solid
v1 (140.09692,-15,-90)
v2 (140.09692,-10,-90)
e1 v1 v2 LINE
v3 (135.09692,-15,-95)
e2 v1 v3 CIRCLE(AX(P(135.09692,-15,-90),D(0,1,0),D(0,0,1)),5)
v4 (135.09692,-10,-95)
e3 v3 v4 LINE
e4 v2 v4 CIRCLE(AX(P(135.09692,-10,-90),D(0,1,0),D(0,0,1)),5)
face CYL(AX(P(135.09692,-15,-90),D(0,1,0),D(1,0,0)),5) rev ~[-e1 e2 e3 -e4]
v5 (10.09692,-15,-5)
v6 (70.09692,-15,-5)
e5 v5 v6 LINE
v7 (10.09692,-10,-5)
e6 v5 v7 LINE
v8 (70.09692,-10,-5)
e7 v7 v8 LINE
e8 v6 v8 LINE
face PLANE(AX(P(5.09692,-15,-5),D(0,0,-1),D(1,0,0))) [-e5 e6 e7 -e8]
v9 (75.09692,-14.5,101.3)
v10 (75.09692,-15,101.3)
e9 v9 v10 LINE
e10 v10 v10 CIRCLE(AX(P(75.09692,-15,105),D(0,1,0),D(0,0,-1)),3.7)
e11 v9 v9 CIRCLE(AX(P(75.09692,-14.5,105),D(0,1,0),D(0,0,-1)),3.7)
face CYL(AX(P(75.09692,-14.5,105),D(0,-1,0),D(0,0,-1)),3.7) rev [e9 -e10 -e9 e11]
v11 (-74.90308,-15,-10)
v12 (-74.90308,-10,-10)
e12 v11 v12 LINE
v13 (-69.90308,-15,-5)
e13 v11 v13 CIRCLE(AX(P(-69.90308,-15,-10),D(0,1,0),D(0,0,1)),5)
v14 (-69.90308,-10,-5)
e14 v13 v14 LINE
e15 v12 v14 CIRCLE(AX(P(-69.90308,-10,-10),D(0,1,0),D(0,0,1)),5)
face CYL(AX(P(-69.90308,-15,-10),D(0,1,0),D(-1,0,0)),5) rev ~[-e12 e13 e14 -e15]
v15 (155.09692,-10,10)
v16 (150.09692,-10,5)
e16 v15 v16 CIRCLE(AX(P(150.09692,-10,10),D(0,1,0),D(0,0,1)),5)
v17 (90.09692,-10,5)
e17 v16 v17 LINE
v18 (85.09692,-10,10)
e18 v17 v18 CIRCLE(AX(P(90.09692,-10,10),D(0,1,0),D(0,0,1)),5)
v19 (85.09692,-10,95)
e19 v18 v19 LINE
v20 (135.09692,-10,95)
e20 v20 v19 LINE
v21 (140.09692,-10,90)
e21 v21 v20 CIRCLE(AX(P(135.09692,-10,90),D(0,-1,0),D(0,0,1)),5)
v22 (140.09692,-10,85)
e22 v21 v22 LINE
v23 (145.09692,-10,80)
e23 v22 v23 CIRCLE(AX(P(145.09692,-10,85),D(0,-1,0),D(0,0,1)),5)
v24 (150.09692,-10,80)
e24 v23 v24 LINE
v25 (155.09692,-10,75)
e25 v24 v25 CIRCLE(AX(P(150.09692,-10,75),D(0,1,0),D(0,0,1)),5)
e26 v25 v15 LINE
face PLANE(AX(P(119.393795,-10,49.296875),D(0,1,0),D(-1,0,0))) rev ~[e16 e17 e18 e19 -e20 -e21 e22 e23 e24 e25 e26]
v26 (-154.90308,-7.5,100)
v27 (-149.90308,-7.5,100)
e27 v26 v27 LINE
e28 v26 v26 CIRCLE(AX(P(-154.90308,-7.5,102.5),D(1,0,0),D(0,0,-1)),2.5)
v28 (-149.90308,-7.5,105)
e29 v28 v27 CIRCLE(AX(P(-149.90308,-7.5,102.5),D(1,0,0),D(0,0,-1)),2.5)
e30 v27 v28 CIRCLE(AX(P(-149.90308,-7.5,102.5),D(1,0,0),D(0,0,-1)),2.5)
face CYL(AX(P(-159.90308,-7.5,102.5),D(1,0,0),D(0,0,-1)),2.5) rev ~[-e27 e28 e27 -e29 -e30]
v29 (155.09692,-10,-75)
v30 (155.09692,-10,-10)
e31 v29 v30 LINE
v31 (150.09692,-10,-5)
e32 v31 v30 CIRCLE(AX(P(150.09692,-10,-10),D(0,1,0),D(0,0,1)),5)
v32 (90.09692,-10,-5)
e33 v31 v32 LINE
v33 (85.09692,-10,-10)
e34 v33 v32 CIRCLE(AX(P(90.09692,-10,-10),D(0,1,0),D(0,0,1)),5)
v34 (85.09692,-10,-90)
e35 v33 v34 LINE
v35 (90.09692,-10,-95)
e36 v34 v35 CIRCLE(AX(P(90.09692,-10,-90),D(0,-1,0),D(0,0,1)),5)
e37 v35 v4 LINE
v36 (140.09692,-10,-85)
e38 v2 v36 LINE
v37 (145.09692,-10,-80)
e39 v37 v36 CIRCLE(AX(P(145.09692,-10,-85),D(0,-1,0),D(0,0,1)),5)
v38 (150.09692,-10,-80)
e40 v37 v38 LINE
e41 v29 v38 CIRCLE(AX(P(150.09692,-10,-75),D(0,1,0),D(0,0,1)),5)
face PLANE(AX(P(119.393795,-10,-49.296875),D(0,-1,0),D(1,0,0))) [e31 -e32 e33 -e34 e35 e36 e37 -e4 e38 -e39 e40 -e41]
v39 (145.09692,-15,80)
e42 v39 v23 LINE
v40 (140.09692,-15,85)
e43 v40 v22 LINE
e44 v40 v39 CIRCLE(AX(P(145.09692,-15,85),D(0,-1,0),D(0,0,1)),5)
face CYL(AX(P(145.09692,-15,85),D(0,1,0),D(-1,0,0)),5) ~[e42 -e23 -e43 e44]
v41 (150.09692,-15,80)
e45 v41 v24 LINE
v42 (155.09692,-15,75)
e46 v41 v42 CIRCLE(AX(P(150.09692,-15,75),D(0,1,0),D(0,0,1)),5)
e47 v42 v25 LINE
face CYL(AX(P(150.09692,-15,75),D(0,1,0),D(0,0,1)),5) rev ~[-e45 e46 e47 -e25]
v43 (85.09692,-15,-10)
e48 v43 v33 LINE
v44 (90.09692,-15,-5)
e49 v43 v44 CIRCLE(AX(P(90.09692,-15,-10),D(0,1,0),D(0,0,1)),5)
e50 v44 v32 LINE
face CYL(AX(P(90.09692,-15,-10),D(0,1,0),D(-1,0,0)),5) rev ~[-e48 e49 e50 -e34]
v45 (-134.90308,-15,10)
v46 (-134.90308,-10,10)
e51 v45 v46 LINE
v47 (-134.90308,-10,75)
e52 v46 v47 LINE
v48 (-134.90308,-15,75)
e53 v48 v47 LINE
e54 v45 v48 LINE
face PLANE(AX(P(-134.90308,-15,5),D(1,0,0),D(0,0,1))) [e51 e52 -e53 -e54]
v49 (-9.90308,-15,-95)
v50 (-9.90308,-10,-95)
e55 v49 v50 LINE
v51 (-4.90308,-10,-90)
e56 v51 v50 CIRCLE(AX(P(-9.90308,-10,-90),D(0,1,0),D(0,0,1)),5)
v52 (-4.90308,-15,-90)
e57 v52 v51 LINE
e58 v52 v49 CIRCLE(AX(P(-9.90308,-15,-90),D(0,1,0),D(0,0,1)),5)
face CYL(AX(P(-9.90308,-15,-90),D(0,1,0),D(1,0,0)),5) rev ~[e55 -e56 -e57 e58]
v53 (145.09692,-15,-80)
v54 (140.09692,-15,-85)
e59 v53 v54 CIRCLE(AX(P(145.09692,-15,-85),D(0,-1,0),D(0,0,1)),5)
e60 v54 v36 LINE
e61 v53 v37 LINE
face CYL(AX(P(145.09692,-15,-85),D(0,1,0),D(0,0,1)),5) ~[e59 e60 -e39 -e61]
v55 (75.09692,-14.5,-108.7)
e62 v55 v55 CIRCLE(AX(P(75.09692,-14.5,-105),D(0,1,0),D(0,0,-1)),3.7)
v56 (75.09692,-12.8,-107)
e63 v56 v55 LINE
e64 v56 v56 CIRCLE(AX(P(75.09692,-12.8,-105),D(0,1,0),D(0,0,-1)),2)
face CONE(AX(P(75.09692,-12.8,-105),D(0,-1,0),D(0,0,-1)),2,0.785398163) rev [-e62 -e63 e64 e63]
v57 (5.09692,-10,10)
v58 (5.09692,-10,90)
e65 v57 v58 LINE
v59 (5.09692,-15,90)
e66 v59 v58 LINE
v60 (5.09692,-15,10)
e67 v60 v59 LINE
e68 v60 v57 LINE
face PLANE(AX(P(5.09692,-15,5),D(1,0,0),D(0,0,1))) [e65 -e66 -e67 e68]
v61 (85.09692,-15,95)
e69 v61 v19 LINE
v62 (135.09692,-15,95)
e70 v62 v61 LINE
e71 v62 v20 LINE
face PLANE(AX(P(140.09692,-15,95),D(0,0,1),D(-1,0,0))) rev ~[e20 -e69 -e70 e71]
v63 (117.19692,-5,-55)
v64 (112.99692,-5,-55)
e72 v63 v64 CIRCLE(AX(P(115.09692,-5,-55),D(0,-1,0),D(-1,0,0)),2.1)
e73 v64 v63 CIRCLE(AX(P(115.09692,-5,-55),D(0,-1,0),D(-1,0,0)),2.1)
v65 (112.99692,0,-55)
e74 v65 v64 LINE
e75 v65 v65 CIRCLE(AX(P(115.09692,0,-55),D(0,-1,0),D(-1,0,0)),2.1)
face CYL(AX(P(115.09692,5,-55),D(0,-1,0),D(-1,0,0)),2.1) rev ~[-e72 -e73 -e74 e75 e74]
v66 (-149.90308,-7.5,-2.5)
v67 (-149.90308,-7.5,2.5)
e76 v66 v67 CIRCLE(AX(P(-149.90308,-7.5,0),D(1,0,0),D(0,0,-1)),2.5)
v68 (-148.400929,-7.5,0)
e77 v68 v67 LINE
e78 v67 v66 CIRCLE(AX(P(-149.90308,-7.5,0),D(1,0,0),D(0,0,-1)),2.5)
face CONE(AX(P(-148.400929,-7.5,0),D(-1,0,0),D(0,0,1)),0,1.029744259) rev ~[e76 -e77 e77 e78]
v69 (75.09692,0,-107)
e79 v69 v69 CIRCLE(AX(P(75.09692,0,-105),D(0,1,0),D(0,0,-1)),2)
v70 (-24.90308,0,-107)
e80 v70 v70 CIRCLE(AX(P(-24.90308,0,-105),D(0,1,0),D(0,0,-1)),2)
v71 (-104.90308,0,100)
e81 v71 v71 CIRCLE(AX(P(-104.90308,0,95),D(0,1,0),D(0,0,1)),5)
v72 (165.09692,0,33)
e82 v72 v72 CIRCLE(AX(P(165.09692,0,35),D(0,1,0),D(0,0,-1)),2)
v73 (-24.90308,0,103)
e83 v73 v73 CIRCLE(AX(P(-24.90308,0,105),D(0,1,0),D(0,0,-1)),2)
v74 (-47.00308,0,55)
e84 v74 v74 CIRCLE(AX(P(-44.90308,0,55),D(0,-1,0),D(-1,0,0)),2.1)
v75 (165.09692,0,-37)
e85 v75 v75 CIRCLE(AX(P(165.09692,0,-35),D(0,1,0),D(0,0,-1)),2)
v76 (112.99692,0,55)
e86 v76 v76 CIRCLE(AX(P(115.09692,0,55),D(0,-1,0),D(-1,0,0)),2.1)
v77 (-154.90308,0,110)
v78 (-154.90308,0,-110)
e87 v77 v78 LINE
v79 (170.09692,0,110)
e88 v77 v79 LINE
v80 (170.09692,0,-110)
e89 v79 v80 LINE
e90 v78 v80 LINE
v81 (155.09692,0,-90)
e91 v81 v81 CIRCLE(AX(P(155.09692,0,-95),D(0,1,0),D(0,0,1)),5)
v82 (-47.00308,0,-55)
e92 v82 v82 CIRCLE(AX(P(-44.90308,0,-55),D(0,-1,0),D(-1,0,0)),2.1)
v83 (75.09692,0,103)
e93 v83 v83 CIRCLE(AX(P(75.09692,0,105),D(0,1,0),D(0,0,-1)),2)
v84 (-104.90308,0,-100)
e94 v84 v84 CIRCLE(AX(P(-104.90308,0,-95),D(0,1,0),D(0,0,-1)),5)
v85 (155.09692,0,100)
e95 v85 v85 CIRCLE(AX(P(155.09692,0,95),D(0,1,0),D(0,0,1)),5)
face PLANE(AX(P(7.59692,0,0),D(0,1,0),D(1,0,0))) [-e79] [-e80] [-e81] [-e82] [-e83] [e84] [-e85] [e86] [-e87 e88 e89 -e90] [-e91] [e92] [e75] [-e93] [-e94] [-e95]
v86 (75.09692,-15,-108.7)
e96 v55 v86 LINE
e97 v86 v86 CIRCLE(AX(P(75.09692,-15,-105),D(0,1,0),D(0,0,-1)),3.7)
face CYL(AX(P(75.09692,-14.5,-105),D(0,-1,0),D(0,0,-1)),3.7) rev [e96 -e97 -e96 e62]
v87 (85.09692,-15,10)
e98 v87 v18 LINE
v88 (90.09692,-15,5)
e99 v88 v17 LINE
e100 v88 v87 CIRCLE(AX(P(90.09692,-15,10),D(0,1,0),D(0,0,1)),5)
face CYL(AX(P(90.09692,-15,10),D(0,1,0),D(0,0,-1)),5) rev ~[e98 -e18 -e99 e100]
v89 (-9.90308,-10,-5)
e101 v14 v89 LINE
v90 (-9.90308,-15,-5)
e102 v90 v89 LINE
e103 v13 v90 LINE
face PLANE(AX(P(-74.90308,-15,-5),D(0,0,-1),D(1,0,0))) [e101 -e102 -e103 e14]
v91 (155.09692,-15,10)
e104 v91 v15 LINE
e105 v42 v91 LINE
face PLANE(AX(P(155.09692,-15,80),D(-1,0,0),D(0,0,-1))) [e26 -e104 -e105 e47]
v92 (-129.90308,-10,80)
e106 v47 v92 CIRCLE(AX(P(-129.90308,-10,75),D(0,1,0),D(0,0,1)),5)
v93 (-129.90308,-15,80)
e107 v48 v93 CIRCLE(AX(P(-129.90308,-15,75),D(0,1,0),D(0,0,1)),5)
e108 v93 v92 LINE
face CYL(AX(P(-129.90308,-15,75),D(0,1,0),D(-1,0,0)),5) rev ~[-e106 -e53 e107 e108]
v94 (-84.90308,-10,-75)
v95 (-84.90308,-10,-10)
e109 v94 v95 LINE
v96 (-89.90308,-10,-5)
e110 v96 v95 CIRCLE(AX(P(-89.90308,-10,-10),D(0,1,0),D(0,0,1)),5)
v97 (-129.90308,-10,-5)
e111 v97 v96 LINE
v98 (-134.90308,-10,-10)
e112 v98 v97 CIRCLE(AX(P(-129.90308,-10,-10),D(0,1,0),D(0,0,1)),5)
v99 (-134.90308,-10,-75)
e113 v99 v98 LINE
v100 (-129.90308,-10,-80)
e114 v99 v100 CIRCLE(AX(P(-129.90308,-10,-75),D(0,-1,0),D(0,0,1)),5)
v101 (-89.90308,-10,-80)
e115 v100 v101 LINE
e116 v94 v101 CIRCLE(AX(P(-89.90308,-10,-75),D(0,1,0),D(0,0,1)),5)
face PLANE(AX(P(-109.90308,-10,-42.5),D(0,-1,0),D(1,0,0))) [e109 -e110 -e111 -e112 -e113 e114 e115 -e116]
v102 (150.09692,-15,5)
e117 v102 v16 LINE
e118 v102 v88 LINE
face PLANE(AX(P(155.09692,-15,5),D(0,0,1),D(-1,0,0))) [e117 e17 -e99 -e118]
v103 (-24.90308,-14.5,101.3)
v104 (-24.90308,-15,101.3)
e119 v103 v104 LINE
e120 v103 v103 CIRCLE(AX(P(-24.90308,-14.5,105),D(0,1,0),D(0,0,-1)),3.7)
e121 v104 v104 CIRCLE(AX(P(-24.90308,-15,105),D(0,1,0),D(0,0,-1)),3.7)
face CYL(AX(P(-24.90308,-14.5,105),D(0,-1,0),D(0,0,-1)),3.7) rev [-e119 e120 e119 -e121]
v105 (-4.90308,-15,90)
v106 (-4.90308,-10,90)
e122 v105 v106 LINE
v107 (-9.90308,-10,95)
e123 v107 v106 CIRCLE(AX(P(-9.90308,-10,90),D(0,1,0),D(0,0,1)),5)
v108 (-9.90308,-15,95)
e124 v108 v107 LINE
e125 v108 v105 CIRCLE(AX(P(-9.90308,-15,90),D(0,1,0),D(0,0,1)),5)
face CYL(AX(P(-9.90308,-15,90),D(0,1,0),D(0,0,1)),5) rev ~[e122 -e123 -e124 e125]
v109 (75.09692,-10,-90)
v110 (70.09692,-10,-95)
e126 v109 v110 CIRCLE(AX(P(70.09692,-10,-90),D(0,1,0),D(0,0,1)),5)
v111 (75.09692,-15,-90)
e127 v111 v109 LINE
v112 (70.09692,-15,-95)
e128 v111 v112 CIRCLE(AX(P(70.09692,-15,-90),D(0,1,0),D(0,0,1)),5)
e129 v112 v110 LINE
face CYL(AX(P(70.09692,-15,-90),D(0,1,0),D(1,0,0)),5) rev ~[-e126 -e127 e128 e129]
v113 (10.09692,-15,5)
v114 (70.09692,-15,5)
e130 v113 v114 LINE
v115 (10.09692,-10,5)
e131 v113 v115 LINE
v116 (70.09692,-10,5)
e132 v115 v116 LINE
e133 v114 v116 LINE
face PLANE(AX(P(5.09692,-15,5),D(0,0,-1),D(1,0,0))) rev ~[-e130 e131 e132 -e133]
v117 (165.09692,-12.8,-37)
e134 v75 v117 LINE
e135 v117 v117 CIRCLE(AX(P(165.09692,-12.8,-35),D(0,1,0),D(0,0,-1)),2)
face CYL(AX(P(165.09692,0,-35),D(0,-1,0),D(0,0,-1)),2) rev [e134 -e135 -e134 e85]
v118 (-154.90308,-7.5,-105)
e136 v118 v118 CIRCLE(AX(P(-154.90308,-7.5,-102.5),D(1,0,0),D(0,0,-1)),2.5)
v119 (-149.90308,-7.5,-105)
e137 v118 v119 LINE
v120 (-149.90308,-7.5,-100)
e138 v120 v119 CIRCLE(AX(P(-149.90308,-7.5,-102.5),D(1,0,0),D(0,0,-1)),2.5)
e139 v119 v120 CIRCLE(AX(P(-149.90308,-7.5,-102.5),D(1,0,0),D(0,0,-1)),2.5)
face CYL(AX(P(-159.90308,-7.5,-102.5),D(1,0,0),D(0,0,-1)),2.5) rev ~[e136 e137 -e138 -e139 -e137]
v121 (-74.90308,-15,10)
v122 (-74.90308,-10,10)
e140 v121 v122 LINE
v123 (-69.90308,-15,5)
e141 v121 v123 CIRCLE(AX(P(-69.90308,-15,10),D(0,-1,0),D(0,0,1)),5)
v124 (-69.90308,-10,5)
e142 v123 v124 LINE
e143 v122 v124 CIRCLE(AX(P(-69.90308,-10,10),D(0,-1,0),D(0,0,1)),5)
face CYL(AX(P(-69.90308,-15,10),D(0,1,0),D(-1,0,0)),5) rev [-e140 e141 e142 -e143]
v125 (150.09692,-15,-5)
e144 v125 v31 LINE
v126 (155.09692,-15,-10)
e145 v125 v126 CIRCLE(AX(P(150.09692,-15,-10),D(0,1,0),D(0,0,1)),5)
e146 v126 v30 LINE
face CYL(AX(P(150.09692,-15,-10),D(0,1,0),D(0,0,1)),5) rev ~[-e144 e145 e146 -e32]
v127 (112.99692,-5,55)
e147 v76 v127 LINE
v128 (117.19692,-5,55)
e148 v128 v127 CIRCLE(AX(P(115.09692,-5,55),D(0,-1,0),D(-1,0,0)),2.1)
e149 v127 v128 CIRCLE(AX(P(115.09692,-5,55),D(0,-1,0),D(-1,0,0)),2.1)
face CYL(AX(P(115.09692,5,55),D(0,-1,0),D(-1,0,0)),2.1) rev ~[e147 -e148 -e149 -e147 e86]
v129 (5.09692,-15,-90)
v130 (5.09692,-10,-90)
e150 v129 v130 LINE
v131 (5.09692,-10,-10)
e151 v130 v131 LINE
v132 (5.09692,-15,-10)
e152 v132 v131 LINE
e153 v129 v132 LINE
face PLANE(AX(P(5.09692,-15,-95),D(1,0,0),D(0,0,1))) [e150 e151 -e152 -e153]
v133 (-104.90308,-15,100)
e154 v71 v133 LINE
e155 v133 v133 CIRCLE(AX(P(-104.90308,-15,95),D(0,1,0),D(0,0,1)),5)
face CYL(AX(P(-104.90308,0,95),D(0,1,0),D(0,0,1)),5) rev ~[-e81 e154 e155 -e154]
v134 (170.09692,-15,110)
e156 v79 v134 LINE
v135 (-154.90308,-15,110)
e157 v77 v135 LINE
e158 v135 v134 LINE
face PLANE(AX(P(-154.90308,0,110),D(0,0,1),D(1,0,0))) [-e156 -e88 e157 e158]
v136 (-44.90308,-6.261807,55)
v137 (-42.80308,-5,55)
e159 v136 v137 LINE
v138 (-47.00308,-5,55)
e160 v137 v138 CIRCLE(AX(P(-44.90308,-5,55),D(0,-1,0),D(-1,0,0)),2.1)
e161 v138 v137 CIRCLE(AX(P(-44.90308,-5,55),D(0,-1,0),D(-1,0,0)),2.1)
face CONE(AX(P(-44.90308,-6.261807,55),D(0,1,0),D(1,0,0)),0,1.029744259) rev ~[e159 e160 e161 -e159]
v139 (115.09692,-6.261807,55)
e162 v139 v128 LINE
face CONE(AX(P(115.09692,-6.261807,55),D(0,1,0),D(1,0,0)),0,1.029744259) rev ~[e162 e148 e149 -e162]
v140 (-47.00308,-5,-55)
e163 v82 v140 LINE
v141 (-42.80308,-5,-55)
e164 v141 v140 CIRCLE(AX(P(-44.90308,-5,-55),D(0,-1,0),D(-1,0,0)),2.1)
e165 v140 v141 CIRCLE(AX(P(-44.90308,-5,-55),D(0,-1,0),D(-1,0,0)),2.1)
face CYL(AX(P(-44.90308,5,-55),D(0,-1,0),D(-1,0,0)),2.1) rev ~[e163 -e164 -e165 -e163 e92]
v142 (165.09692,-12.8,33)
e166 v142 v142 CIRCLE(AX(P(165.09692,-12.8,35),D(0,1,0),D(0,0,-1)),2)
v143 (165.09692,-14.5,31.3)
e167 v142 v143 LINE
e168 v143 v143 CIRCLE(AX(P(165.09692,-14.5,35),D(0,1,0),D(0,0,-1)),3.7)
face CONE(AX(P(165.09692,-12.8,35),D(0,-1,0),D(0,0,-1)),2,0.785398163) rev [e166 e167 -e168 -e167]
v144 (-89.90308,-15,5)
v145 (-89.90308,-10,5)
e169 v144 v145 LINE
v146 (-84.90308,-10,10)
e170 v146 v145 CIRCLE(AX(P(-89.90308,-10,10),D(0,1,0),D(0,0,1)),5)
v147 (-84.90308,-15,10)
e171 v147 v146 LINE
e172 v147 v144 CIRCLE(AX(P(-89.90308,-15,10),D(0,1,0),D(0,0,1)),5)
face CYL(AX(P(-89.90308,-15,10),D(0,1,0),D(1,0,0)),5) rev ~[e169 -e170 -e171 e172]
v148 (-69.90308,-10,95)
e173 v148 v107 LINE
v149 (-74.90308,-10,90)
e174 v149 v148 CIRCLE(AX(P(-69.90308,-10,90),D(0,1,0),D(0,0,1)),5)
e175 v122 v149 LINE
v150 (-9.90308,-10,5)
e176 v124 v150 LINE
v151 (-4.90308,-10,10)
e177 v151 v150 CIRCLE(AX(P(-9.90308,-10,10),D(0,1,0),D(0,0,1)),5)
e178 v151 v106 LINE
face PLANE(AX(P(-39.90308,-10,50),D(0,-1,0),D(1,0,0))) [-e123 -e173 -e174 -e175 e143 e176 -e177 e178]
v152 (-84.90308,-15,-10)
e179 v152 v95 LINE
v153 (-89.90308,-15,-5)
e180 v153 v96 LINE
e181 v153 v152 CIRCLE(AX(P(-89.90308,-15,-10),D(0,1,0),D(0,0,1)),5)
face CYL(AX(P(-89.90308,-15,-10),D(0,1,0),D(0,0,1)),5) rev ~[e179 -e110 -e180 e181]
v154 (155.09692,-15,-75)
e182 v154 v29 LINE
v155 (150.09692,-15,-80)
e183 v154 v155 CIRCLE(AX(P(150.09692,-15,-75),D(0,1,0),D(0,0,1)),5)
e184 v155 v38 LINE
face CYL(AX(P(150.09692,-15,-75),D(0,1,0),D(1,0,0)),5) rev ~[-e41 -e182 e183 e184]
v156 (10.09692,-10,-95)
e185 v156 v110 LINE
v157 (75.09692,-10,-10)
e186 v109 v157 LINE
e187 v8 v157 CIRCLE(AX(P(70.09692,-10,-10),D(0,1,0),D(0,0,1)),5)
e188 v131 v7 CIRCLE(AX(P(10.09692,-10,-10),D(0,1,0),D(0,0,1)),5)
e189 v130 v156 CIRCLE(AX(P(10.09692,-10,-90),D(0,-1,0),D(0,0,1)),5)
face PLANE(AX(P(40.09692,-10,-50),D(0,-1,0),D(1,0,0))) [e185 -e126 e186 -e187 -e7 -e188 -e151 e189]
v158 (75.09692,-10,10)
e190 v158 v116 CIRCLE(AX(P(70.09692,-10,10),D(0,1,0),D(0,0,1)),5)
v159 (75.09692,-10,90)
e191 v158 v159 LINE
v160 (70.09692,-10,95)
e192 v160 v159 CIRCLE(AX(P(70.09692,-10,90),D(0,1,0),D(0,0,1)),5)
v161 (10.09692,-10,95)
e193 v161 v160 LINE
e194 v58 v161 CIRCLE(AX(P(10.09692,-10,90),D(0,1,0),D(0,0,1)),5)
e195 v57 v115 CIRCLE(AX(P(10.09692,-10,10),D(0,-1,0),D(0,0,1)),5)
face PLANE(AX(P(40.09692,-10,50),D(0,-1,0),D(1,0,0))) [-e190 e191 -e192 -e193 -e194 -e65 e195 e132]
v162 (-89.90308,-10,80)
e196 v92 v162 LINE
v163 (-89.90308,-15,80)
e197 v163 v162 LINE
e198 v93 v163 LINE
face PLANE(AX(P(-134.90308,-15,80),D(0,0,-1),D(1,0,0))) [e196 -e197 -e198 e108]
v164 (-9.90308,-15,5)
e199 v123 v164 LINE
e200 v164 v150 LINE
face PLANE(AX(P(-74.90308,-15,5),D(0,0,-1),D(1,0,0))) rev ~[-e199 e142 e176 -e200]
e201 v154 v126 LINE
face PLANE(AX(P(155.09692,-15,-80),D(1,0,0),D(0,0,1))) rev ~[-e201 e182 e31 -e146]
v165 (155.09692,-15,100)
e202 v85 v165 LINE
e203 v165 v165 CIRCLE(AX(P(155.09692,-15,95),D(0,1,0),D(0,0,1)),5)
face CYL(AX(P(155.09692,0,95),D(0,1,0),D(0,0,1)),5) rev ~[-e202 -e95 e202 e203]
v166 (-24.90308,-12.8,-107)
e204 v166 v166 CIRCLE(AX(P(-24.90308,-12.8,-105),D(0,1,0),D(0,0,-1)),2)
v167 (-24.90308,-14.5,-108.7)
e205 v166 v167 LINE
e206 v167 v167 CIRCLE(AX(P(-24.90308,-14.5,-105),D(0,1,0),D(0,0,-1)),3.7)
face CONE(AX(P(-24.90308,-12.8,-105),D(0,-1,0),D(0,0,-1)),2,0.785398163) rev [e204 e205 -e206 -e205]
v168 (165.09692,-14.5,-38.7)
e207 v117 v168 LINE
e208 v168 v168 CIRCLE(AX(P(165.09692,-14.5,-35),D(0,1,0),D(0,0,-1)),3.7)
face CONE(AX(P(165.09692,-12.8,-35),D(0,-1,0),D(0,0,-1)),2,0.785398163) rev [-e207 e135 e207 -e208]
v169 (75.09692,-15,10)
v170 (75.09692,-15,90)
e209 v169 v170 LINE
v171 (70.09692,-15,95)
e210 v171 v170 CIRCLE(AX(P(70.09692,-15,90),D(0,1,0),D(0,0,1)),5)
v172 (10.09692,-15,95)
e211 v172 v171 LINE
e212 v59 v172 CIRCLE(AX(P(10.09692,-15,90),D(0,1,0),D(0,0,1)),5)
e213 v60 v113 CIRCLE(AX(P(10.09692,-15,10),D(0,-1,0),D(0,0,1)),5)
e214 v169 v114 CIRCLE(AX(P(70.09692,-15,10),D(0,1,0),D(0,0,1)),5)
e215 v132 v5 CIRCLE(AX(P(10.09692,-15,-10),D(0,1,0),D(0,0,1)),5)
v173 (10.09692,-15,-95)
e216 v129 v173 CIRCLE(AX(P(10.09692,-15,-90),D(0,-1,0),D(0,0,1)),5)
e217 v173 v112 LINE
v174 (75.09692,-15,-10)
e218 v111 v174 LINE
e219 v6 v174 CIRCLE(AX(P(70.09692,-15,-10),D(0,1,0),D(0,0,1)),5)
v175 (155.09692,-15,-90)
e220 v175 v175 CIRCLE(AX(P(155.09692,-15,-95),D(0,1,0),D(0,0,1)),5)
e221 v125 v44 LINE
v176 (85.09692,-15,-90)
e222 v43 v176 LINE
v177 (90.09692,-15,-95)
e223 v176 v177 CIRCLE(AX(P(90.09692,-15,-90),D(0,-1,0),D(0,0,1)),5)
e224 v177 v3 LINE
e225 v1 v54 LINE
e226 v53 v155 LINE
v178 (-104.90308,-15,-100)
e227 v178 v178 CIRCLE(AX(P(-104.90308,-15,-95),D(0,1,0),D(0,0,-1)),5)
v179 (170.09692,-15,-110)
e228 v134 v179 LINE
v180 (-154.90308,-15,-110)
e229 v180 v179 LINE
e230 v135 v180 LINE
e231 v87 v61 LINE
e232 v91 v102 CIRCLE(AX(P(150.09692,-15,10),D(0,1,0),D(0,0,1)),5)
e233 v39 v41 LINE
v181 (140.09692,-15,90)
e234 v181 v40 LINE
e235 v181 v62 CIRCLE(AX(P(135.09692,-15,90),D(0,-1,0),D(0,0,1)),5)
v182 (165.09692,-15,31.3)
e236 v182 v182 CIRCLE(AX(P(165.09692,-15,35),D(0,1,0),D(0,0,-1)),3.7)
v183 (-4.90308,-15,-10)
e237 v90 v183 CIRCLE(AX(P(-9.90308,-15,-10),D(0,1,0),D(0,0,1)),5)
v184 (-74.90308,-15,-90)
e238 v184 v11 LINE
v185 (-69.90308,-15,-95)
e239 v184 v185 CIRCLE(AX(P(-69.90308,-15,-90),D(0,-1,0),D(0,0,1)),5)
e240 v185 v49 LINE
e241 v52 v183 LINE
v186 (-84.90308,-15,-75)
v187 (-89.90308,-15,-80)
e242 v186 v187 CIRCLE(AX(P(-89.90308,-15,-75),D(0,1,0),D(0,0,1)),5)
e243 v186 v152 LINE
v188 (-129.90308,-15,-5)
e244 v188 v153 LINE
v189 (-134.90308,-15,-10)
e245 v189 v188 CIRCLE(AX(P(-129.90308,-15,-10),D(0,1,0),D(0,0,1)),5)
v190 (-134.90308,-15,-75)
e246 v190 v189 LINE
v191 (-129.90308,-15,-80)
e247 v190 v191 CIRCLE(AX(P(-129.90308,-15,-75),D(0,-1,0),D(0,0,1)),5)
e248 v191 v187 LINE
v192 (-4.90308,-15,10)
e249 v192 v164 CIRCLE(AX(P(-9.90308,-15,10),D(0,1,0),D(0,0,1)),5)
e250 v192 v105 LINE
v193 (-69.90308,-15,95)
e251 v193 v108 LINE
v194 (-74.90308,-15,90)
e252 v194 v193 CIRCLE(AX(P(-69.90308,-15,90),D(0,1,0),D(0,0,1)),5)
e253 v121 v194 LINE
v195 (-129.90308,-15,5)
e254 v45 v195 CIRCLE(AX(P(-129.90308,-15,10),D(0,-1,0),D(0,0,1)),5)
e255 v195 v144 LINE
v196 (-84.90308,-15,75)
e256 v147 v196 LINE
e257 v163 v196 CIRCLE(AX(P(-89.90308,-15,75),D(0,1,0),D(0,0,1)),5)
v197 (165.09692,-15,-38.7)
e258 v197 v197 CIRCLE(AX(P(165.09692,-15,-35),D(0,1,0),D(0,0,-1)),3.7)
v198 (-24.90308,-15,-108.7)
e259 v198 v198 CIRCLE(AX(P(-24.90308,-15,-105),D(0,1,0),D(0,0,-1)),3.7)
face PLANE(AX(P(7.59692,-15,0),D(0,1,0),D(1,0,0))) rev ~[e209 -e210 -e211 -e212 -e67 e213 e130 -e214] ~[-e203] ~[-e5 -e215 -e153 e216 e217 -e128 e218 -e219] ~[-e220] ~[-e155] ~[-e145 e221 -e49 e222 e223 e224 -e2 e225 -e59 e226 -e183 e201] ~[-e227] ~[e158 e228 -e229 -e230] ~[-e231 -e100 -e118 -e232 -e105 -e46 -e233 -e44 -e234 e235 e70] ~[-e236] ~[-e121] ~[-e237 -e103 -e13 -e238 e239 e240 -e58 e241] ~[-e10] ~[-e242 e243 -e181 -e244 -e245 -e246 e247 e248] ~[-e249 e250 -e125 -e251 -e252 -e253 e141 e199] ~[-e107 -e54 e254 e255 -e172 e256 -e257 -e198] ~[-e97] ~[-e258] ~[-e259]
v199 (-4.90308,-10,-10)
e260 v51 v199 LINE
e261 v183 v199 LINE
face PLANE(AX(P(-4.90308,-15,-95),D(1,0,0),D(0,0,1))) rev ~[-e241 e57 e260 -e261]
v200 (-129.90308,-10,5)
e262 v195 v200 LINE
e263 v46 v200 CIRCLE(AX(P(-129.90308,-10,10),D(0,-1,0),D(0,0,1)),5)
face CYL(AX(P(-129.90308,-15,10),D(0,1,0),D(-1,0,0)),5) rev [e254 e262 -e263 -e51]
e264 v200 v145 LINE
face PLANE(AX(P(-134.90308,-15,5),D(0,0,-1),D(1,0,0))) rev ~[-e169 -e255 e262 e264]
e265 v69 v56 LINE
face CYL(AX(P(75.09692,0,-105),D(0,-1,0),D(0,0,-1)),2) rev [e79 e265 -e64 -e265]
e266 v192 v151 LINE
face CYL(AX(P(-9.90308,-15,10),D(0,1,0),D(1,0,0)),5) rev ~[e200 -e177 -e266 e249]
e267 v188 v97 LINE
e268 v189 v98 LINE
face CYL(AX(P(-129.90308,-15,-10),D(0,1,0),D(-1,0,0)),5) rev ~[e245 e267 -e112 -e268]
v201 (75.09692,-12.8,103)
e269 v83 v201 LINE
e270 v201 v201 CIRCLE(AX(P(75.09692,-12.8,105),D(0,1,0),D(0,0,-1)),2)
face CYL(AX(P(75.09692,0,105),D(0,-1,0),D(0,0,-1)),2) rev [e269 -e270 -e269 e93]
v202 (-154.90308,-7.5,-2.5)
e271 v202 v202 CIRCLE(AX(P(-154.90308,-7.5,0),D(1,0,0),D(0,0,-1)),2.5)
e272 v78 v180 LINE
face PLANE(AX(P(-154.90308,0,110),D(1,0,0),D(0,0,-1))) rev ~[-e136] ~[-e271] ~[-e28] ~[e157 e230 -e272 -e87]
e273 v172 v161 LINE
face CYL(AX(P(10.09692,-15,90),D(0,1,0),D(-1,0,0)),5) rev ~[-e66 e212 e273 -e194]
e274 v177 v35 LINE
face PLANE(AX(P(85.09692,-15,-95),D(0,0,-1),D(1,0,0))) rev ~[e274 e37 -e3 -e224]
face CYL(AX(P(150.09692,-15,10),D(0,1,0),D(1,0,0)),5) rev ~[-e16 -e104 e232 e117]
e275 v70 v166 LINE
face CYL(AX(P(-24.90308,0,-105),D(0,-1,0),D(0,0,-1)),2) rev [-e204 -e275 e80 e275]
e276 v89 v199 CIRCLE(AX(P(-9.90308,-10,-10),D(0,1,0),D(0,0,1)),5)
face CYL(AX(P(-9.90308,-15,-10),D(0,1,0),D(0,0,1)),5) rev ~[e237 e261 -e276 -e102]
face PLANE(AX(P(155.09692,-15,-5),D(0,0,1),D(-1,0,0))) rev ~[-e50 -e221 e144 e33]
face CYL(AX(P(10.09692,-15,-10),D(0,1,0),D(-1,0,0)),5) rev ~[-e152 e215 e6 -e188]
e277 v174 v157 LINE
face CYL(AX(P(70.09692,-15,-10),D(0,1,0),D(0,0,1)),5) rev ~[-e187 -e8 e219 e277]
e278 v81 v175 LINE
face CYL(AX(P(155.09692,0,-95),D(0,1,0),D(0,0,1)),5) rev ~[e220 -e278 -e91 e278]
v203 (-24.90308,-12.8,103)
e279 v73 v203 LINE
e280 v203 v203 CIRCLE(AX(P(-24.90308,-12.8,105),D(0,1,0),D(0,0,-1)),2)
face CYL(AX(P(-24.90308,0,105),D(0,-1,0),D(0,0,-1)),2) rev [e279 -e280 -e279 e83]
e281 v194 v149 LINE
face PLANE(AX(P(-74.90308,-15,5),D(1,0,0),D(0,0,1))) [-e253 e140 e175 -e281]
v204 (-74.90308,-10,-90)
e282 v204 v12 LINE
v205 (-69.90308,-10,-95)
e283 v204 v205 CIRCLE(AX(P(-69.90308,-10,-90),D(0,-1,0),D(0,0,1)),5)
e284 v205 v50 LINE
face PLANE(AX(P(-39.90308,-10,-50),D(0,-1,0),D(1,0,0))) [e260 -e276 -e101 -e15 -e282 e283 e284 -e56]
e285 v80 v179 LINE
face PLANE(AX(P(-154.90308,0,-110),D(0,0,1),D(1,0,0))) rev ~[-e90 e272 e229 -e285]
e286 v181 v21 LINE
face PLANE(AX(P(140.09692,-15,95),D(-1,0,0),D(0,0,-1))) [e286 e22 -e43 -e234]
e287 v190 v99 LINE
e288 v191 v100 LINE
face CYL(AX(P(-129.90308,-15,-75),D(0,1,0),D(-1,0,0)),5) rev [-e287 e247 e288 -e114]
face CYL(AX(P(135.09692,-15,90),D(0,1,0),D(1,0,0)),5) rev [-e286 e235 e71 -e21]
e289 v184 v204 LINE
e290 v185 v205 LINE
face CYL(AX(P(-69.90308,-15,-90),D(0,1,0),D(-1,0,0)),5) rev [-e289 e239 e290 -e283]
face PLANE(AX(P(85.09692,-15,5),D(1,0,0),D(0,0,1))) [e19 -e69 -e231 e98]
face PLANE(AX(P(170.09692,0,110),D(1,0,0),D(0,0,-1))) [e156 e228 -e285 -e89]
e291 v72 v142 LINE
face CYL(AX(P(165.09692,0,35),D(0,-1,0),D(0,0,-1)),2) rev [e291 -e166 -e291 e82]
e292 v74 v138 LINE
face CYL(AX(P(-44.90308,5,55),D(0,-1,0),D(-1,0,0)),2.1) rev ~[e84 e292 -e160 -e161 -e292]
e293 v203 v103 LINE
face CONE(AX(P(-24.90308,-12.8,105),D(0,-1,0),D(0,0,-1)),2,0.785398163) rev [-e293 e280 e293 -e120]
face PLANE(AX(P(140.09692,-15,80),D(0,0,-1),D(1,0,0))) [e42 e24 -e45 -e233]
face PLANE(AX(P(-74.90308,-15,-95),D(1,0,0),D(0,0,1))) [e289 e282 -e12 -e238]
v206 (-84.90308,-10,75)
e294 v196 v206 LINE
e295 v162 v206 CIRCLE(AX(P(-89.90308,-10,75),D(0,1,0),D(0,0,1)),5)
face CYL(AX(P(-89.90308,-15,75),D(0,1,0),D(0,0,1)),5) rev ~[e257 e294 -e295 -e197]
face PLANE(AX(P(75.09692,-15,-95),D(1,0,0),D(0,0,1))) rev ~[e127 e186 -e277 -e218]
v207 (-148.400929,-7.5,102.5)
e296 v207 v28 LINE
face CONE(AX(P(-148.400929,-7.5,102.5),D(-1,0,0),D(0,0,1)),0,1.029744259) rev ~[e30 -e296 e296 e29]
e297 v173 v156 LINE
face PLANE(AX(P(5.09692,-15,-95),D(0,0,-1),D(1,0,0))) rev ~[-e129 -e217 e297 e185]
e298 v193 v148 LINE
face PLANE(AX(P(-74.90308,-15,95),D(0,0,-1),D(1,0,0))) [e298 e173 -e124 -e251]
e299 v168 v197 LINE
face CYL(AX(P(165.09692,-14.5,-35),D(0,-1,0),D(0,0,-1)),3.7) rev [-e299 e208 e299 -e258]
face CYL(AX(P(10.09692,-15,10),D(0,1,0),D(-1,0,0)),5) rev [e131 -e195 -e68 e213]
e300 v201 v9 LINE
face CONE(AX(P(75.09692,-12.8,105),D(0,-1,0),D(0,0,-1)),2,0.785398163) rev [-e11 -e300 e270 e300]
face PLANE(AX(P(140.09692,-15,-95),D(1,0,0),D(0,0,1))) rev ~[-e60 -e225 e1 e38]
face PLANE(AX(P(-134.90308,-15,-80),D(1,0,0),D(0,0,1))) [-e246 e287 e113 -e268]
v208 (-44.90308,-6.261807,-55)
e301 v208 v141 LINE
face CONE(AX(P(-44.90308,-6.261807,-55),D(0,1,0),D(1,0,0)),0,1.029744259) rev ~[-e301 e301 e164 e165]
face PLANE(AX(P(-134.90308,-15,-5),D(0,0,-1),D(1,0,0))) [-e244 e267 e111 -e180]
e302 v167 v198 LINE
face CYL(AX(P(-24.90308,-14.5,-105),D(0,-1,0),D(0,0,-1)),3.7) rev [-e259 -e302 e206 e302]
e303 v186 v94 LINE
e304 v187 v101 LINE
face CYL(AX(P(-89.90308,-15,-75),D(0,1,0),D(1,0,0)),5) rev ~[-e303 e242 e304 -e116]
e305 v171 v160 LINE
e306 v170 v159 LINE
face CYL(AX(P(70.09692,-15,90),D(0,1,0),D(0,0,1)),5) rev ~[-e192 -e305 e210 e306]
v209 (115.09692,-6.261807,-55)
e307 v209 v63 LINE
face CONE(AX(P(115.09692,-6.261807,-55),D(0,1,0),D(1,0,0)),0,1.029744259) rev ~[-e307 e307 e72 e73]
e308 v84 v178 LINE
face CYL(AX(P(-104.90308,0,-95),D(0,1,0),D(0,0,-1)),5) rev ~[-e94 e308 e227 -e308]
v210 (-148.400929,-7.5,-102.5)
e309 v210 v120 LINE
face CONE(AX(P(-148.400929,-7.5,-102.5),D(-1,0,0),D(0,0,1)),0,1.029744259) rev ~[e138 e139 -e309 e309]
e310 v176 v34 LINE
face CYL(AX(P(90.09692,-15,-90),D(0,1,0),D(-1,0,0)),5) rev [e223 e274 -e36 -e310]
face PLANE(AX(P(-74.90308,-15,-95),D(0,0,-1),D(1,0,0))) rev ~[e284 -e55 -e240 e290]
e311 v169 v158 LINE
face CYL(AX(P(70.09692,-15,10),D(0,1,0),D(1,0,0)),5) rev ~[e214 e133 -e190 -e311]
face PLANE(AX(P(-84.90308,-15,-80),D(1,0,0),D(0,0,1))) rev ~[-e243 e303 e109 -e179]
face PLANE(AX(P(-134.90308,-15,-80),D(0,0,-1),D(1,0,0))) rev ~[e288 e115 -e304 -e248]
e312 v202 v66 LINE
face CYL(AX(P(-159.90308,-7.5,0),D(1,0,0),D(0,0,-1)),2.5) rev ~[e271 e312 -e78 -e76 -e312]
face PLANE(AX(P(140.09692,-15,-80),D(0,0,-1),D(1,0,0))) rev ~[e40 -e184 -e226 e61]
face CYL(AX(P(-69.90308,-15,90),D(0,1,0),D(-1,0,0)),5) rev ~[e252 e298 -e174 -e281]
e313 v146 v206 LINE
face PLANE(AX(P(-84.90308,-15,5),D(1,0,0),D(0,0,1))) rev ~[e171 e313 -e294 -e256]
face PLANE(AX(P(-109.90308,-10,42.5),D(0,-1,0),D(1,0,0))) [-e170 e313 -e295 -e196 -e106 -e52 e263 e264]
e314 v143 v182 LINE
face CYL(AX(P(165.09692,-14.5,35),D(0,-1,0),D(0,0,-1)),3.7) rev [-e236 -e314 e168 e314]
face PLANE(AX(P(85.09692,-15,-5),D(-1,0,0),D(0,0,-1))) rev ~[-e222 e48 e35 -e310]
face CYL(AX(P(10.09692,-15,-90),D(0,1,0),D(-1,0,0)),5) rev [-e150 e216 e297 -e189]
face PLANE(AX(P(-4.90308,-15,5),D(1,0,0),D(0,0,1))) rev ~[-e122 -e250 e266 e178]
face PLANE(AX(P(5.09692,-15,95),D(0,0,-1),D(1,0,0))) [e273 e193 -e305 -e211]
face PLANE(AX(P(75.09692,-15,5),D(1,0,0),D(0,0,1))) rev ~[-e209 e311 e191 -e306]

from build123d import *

# Parameters (mm, degrees)
SKETCH2_R                                    = 5
BOSS_EXTRUDE3_DEPTH                          = 15
SKETCH11_W                                   = 50
SKETCH11_H                                   = 75
SKETCH11_W_2                                 = 70
SKETCH11_H_2                                 = 90
CUT_EXTRUDE6_DEPTH                           = 5
FILLET1_R                                    = 5
CSK_FOR_M4_COUNTERSUNK_FLAT_HEAD_SCR_2_COUNT = 2
CSK_FOR_M4_COUNTERSUNK_FLAT_HEAD_SCR_2_PITCH = 100
CSK_FOR_M4_COUNTERSUNK_FLAT_HEAD_SCR_3_COUNT = 2
CSK_FOR_M4_COUNTERSUNK_FLAT_HEAD_SCR_3_PITCH = 202.484567313
CSK_FOR_M4_COUNTERSUNK_FLAT_HEAD_SCR_4_COUNT = 2
CSK_FOR_M4_COUNTERSUNK_FLAT_HEAD_SCR_4_PITCH = 236.008474424
CSK_FOR_M4_COUNTERSUNK_FLAT_HEAD_SCR_5_COUNT = 2
CSK_FOR_M4_COUNTERSUNK_FLAT_HEAD_SCR_5_PITCH = 232.594066992
CSK_FOR_M4_COUNTERSUNK_FLAT_HEAD_SCR_6_COUNT = 2
CSK_FOR_M4_COUNTERSUNK_FLAT_HEAD_SCR_6_PITCH = 210
M5_TAPPED_HOLE2_D                            = 4.2
M5_TAPPED_HOLE2_DEPTH                        = 5
M5_TAPPED_HOLE2_TIP                          = 1.2618073
M6_TAPPED_HOLE3_D                            = 5
M6_TAPPED_HOLE3_DEPTH                        = 5
M6_TAPPED_HOLE3_TIP                          = 1.502151548


with BuildPart() as part:
    # Sketch2 → Boss-Extrude3 (new body)
    with BuildSketch(Plane(origin=(0, 0, 0), x_dir=(1, 0, 0), z_dir=(0, 1, 0))):
        Polygon((-154.903080262, 110), (-154.903080262, -110), (170.096919738, -110), (170.096919738, 35), (170.096919738, 110), align=None)
        with Locations((-104.903080262, -95)):
            Circle(SKETCH2_R, mode=Mode.SUBTRACT)
        with Locations((155.096919738, -95)):
            Circle(SKETCH2_R, mode=Mode.SUBTRACT)
        with Locations((-104.903080262, 95)):
            Circle(SKETCH2_R, mode=Mode.SUBTRACT)
        with Locations((155.096919738, 95)):
            Circle(SKETCH2_R, mode=Mode.SUBTRACT)
    extrude(amount=-BOSS_EXTRUDE3_DEPTH)

    # Sketch11 → Cut-Extrude6 (cut)
    with BuildSketch(Plane.XZ.offset(15)):
        Polygon((155.096919738, 80), (140.096919738, 80), (140.096919738, 95), (85.096919738, 95), (85.096919738, 5), (155.096919738, 5), align=None)
        Polygon((140.096919738, -80), (155.096919738, -80), (155.096919738, -5), (85.096919738, -5), (85.096919738, -95), (140.096919738, -95), align=None)
        with Locations((-109.903080262, -42.5)):
            Rectangle(SKETCH11_W, SKETCH11_H)
        with Locations((-109.903080262, 42.5)):
            Rectangle(SKETCH11_W, SKETCH11_H)
        with Locations((-39.903080262, -50)):
            Rectangle(SKETCH11_W_2, SKETCH11_H_2)
        with Locations((40.096919738, -50)):
            Rectangle(SKETCH11_W_2, SKETCH11_H_2)
        with Locations((-39.903080262, 50)):
            Rectangle(SKETCH11_W_2, SKETCH11_H_2)
        with Locations((40.096919738, 50)):
            Rectangle(SKETCH11_W_2, SKETCH11_H_2)
    extrude(amount=-CUT_EXTRUDE6_DEPTH, mode=Mode.SUBTRACT)

    # Fillet1
    fillet1_edges = [part.edges().sort_by_distance(p)[0] for p in [
        (5.096919738, -12.5, -5),
        (-74.903080262, -12.5, -5),
        (-134.903080262, -12.5, -5),
        (-134.903080262, -12.5, 80),
        (-74.903080262, -12.5, 95),
        (5.096919738, -12.5, 95),
        (85.096919738, -12.5, 5),
        (5.096919738, -12.5, 5),
        (-74.903080262, -12.5, 5),
        (-134.903080262, -12.5, 5),
        (-134.903080262, -12.5, -80),
        (-74.903080262, -12.5, -95),
        (5.096919738, -12.5, -95),
        (75.096919738, -12.5, -95),
        (-4.903080262, -12.5, -95),
        (-84.903080262, -12.5, -80),
        (-84.903080262, -12.5, 5),
        (-4.903080262, -12.5, 5),
        (75.096919738, -12.5, 5),
        (155.096919738, -12.5, 5),
        (140.096919738, -12.5, 80),
        (155.096919738, -12.5, 80),
        (140.096919738, -12.5, 95),
        (75.096919738, -12.5, 95),
        (-4.903080262, -12.5, 95),
        (-84.903080262, -12.5, 80),
        (-84.903080262, -12.5, -5),
        (-4.903080262, -12.5, -5),
        (75.096919738, -12.5, -5),
        (155.096919738, -12.5, -5),
        (85.096919738, -12.5, -5),
        (85.096919738, -12.5, -95),
        (140.096919738, -12.5, -95),
        (155.096919738, -12.5, -80),
        (140.096919738, -12.5, -80),
    ]]
    fillet(fillet1_edges, radius=FILLET1_R)

    # Sketch28 → CSK for M4 Countersunk Flat Head Screw2 (revolve, cut)
    with BuildSketch(Plane(origin=(-24.903080262, -15, -105), x_dir=(0, 0, -1), z_dir=(1, 0, 0))):
        Polygon((0, 0), (0, 15), (2, 15), (2, 2.2), (3.7, 0.5), (3.7, 0), align=None)
    csk_for_m4_countersunk_flat_head_screw2 = revolve(axis=Axis((-24.903080262, -21.35, -105), (0, 1, 0)), mode=Mode.SUBTRACT)

    # CSK for M4 Countersunk Flat Head Scr 2: CSK for M4 Countersunk Flat Head Screw2 ×2
    with Locations(*[(i * CSK_FOR_M4_COUNTERSUNK_FLAT_HEAD_SCR_2_PITCH, 0, 0) for i in range(1, CSK_FOR_M4_COUNTERSUNK_FLAT_HEAD_SCR_2_COUNT)]):
        add(csk_for_m4_countersunk_flat_head_screw2, mode=Mode.SUBTRACT)

    # CSK for M4 Countersunk Flat Head Scr 3: CSK for M4 Countersunk Flat Head Screw2 ×2
    with Locations(*[Vector(0.9383431168171102, 0, 0.34570535882735626) * (i * CSK_FOR_M4_COUNTERSUNK_FLAT_HEAD_SCR_3_PITCH) for i in range(1, CSK_FOR_M4_COUNTERSUNK_FLAT_HEAD_SCR_3_COUNT)]):
        add(csk_for_m4_countersunk_flat_head_screw2, mode=Mode.SUBTRACT)

    # CSK for M4 Countersunk Flat Head Scr 4: CSK for M4 Countersunk Flat Head Screw2 ×2
    with Locations(*[Vector(0.8050558373533682, 0, 0.59319903804985) * (i * CSK_FOR_M4_COUNTERSUNK_FLAT_HEAD_SCR_4_PITCH) for i in range(1, CSK_FOR_M4_COUNTERSUNK_FLAT_HEAD_SCR_4_COUNT)]):
        add(csk_for_m4_countersunk_flat_head_screw2, mode=Mode.SUBTRACT)

    # CSK for M4 Countersunk Flat Head Scr 5: CSK for M4 Countersunk Flat Head Screw2 ×2
    with Locations(*[Vector(0.42993358039234764, 0, 0.9028605188239304) * (i * CSK_FOR_M4_COUNTERSUNK_FLAT_HEAD_SCR_5_PITCH) for i in range(1, CSK_FOR_M4_COUNTERSUNK_FLAT_HEAD_SCR_5_COUNT)]):
        add(csk_for_m4_countersunk_flat_head_screw2, mode=Mode.SUBTRACT)

    # CSK for M4 Countersunk Flat Head Scr 6: CSK for M4 Countersunk Flat Head Screw2 ×2
    with Locations(*[(0, 0, i * CSK_FOR_M4_COUNTERSUNK_FLAT_HEAD_SCR_6_PITCH) for i in range(1, CSK_FOR_M4_COUNTERSUNK_FLAT_HEAD_SCR_6_COUNT)]):
        add(csk_for_m4_countersunk_flat_head_screw2, mode=Mode.SUBTRACT)

    # M5 Tapped Hole2
    with Locations(Plane(origin=(0, 0, 0), x_dir=(1, 0, 0), z_dir=(0, 1, 0))):
        with Locations((115.096919738, 55), (115.096919738, -55), (-44.903080262, -55), (-44.903080262, 55)):
            Hole(M5_TAPPED_HOLE2_D / 2, depth=M5_TAPPED_HOLE2_DEPTH)
            with Locations((0, 0, -(M5_TAPPED_HOLE2_DEPTH + M5_TAPPED_HOLE2_TIP / 2))):  # 118° drill point
                Cone(0, M5_TAPPED_HOLE2_D / 2, M5_TAPPED_HOLE2_TIP, mode=Mode.SUBTRACT)

    # M6 Tapped Hole3
    with Locations(Plane.ZY.offset(154.903080262)):
        with Locations((-102.5, -7.5), (0, -7.5), (102.5, -7.5)):
            Hole(M6_TAPPED_HOLE3_D / 2, depth=M6_TAPPED_HOLE3_DEPTH)
            with Locations((0, 0, -(M6_TAPPED_HOLE3_DEPTH + M6_TAPPED_HOLE3_TIP / 2))):  # 118° drill point
                Cone(0, M6_TAPPED_HOLE3_D / 2, M6_TAPPED_HOLE3_TIP, mode=Mode.SUBTRACT)


solid = part.part
